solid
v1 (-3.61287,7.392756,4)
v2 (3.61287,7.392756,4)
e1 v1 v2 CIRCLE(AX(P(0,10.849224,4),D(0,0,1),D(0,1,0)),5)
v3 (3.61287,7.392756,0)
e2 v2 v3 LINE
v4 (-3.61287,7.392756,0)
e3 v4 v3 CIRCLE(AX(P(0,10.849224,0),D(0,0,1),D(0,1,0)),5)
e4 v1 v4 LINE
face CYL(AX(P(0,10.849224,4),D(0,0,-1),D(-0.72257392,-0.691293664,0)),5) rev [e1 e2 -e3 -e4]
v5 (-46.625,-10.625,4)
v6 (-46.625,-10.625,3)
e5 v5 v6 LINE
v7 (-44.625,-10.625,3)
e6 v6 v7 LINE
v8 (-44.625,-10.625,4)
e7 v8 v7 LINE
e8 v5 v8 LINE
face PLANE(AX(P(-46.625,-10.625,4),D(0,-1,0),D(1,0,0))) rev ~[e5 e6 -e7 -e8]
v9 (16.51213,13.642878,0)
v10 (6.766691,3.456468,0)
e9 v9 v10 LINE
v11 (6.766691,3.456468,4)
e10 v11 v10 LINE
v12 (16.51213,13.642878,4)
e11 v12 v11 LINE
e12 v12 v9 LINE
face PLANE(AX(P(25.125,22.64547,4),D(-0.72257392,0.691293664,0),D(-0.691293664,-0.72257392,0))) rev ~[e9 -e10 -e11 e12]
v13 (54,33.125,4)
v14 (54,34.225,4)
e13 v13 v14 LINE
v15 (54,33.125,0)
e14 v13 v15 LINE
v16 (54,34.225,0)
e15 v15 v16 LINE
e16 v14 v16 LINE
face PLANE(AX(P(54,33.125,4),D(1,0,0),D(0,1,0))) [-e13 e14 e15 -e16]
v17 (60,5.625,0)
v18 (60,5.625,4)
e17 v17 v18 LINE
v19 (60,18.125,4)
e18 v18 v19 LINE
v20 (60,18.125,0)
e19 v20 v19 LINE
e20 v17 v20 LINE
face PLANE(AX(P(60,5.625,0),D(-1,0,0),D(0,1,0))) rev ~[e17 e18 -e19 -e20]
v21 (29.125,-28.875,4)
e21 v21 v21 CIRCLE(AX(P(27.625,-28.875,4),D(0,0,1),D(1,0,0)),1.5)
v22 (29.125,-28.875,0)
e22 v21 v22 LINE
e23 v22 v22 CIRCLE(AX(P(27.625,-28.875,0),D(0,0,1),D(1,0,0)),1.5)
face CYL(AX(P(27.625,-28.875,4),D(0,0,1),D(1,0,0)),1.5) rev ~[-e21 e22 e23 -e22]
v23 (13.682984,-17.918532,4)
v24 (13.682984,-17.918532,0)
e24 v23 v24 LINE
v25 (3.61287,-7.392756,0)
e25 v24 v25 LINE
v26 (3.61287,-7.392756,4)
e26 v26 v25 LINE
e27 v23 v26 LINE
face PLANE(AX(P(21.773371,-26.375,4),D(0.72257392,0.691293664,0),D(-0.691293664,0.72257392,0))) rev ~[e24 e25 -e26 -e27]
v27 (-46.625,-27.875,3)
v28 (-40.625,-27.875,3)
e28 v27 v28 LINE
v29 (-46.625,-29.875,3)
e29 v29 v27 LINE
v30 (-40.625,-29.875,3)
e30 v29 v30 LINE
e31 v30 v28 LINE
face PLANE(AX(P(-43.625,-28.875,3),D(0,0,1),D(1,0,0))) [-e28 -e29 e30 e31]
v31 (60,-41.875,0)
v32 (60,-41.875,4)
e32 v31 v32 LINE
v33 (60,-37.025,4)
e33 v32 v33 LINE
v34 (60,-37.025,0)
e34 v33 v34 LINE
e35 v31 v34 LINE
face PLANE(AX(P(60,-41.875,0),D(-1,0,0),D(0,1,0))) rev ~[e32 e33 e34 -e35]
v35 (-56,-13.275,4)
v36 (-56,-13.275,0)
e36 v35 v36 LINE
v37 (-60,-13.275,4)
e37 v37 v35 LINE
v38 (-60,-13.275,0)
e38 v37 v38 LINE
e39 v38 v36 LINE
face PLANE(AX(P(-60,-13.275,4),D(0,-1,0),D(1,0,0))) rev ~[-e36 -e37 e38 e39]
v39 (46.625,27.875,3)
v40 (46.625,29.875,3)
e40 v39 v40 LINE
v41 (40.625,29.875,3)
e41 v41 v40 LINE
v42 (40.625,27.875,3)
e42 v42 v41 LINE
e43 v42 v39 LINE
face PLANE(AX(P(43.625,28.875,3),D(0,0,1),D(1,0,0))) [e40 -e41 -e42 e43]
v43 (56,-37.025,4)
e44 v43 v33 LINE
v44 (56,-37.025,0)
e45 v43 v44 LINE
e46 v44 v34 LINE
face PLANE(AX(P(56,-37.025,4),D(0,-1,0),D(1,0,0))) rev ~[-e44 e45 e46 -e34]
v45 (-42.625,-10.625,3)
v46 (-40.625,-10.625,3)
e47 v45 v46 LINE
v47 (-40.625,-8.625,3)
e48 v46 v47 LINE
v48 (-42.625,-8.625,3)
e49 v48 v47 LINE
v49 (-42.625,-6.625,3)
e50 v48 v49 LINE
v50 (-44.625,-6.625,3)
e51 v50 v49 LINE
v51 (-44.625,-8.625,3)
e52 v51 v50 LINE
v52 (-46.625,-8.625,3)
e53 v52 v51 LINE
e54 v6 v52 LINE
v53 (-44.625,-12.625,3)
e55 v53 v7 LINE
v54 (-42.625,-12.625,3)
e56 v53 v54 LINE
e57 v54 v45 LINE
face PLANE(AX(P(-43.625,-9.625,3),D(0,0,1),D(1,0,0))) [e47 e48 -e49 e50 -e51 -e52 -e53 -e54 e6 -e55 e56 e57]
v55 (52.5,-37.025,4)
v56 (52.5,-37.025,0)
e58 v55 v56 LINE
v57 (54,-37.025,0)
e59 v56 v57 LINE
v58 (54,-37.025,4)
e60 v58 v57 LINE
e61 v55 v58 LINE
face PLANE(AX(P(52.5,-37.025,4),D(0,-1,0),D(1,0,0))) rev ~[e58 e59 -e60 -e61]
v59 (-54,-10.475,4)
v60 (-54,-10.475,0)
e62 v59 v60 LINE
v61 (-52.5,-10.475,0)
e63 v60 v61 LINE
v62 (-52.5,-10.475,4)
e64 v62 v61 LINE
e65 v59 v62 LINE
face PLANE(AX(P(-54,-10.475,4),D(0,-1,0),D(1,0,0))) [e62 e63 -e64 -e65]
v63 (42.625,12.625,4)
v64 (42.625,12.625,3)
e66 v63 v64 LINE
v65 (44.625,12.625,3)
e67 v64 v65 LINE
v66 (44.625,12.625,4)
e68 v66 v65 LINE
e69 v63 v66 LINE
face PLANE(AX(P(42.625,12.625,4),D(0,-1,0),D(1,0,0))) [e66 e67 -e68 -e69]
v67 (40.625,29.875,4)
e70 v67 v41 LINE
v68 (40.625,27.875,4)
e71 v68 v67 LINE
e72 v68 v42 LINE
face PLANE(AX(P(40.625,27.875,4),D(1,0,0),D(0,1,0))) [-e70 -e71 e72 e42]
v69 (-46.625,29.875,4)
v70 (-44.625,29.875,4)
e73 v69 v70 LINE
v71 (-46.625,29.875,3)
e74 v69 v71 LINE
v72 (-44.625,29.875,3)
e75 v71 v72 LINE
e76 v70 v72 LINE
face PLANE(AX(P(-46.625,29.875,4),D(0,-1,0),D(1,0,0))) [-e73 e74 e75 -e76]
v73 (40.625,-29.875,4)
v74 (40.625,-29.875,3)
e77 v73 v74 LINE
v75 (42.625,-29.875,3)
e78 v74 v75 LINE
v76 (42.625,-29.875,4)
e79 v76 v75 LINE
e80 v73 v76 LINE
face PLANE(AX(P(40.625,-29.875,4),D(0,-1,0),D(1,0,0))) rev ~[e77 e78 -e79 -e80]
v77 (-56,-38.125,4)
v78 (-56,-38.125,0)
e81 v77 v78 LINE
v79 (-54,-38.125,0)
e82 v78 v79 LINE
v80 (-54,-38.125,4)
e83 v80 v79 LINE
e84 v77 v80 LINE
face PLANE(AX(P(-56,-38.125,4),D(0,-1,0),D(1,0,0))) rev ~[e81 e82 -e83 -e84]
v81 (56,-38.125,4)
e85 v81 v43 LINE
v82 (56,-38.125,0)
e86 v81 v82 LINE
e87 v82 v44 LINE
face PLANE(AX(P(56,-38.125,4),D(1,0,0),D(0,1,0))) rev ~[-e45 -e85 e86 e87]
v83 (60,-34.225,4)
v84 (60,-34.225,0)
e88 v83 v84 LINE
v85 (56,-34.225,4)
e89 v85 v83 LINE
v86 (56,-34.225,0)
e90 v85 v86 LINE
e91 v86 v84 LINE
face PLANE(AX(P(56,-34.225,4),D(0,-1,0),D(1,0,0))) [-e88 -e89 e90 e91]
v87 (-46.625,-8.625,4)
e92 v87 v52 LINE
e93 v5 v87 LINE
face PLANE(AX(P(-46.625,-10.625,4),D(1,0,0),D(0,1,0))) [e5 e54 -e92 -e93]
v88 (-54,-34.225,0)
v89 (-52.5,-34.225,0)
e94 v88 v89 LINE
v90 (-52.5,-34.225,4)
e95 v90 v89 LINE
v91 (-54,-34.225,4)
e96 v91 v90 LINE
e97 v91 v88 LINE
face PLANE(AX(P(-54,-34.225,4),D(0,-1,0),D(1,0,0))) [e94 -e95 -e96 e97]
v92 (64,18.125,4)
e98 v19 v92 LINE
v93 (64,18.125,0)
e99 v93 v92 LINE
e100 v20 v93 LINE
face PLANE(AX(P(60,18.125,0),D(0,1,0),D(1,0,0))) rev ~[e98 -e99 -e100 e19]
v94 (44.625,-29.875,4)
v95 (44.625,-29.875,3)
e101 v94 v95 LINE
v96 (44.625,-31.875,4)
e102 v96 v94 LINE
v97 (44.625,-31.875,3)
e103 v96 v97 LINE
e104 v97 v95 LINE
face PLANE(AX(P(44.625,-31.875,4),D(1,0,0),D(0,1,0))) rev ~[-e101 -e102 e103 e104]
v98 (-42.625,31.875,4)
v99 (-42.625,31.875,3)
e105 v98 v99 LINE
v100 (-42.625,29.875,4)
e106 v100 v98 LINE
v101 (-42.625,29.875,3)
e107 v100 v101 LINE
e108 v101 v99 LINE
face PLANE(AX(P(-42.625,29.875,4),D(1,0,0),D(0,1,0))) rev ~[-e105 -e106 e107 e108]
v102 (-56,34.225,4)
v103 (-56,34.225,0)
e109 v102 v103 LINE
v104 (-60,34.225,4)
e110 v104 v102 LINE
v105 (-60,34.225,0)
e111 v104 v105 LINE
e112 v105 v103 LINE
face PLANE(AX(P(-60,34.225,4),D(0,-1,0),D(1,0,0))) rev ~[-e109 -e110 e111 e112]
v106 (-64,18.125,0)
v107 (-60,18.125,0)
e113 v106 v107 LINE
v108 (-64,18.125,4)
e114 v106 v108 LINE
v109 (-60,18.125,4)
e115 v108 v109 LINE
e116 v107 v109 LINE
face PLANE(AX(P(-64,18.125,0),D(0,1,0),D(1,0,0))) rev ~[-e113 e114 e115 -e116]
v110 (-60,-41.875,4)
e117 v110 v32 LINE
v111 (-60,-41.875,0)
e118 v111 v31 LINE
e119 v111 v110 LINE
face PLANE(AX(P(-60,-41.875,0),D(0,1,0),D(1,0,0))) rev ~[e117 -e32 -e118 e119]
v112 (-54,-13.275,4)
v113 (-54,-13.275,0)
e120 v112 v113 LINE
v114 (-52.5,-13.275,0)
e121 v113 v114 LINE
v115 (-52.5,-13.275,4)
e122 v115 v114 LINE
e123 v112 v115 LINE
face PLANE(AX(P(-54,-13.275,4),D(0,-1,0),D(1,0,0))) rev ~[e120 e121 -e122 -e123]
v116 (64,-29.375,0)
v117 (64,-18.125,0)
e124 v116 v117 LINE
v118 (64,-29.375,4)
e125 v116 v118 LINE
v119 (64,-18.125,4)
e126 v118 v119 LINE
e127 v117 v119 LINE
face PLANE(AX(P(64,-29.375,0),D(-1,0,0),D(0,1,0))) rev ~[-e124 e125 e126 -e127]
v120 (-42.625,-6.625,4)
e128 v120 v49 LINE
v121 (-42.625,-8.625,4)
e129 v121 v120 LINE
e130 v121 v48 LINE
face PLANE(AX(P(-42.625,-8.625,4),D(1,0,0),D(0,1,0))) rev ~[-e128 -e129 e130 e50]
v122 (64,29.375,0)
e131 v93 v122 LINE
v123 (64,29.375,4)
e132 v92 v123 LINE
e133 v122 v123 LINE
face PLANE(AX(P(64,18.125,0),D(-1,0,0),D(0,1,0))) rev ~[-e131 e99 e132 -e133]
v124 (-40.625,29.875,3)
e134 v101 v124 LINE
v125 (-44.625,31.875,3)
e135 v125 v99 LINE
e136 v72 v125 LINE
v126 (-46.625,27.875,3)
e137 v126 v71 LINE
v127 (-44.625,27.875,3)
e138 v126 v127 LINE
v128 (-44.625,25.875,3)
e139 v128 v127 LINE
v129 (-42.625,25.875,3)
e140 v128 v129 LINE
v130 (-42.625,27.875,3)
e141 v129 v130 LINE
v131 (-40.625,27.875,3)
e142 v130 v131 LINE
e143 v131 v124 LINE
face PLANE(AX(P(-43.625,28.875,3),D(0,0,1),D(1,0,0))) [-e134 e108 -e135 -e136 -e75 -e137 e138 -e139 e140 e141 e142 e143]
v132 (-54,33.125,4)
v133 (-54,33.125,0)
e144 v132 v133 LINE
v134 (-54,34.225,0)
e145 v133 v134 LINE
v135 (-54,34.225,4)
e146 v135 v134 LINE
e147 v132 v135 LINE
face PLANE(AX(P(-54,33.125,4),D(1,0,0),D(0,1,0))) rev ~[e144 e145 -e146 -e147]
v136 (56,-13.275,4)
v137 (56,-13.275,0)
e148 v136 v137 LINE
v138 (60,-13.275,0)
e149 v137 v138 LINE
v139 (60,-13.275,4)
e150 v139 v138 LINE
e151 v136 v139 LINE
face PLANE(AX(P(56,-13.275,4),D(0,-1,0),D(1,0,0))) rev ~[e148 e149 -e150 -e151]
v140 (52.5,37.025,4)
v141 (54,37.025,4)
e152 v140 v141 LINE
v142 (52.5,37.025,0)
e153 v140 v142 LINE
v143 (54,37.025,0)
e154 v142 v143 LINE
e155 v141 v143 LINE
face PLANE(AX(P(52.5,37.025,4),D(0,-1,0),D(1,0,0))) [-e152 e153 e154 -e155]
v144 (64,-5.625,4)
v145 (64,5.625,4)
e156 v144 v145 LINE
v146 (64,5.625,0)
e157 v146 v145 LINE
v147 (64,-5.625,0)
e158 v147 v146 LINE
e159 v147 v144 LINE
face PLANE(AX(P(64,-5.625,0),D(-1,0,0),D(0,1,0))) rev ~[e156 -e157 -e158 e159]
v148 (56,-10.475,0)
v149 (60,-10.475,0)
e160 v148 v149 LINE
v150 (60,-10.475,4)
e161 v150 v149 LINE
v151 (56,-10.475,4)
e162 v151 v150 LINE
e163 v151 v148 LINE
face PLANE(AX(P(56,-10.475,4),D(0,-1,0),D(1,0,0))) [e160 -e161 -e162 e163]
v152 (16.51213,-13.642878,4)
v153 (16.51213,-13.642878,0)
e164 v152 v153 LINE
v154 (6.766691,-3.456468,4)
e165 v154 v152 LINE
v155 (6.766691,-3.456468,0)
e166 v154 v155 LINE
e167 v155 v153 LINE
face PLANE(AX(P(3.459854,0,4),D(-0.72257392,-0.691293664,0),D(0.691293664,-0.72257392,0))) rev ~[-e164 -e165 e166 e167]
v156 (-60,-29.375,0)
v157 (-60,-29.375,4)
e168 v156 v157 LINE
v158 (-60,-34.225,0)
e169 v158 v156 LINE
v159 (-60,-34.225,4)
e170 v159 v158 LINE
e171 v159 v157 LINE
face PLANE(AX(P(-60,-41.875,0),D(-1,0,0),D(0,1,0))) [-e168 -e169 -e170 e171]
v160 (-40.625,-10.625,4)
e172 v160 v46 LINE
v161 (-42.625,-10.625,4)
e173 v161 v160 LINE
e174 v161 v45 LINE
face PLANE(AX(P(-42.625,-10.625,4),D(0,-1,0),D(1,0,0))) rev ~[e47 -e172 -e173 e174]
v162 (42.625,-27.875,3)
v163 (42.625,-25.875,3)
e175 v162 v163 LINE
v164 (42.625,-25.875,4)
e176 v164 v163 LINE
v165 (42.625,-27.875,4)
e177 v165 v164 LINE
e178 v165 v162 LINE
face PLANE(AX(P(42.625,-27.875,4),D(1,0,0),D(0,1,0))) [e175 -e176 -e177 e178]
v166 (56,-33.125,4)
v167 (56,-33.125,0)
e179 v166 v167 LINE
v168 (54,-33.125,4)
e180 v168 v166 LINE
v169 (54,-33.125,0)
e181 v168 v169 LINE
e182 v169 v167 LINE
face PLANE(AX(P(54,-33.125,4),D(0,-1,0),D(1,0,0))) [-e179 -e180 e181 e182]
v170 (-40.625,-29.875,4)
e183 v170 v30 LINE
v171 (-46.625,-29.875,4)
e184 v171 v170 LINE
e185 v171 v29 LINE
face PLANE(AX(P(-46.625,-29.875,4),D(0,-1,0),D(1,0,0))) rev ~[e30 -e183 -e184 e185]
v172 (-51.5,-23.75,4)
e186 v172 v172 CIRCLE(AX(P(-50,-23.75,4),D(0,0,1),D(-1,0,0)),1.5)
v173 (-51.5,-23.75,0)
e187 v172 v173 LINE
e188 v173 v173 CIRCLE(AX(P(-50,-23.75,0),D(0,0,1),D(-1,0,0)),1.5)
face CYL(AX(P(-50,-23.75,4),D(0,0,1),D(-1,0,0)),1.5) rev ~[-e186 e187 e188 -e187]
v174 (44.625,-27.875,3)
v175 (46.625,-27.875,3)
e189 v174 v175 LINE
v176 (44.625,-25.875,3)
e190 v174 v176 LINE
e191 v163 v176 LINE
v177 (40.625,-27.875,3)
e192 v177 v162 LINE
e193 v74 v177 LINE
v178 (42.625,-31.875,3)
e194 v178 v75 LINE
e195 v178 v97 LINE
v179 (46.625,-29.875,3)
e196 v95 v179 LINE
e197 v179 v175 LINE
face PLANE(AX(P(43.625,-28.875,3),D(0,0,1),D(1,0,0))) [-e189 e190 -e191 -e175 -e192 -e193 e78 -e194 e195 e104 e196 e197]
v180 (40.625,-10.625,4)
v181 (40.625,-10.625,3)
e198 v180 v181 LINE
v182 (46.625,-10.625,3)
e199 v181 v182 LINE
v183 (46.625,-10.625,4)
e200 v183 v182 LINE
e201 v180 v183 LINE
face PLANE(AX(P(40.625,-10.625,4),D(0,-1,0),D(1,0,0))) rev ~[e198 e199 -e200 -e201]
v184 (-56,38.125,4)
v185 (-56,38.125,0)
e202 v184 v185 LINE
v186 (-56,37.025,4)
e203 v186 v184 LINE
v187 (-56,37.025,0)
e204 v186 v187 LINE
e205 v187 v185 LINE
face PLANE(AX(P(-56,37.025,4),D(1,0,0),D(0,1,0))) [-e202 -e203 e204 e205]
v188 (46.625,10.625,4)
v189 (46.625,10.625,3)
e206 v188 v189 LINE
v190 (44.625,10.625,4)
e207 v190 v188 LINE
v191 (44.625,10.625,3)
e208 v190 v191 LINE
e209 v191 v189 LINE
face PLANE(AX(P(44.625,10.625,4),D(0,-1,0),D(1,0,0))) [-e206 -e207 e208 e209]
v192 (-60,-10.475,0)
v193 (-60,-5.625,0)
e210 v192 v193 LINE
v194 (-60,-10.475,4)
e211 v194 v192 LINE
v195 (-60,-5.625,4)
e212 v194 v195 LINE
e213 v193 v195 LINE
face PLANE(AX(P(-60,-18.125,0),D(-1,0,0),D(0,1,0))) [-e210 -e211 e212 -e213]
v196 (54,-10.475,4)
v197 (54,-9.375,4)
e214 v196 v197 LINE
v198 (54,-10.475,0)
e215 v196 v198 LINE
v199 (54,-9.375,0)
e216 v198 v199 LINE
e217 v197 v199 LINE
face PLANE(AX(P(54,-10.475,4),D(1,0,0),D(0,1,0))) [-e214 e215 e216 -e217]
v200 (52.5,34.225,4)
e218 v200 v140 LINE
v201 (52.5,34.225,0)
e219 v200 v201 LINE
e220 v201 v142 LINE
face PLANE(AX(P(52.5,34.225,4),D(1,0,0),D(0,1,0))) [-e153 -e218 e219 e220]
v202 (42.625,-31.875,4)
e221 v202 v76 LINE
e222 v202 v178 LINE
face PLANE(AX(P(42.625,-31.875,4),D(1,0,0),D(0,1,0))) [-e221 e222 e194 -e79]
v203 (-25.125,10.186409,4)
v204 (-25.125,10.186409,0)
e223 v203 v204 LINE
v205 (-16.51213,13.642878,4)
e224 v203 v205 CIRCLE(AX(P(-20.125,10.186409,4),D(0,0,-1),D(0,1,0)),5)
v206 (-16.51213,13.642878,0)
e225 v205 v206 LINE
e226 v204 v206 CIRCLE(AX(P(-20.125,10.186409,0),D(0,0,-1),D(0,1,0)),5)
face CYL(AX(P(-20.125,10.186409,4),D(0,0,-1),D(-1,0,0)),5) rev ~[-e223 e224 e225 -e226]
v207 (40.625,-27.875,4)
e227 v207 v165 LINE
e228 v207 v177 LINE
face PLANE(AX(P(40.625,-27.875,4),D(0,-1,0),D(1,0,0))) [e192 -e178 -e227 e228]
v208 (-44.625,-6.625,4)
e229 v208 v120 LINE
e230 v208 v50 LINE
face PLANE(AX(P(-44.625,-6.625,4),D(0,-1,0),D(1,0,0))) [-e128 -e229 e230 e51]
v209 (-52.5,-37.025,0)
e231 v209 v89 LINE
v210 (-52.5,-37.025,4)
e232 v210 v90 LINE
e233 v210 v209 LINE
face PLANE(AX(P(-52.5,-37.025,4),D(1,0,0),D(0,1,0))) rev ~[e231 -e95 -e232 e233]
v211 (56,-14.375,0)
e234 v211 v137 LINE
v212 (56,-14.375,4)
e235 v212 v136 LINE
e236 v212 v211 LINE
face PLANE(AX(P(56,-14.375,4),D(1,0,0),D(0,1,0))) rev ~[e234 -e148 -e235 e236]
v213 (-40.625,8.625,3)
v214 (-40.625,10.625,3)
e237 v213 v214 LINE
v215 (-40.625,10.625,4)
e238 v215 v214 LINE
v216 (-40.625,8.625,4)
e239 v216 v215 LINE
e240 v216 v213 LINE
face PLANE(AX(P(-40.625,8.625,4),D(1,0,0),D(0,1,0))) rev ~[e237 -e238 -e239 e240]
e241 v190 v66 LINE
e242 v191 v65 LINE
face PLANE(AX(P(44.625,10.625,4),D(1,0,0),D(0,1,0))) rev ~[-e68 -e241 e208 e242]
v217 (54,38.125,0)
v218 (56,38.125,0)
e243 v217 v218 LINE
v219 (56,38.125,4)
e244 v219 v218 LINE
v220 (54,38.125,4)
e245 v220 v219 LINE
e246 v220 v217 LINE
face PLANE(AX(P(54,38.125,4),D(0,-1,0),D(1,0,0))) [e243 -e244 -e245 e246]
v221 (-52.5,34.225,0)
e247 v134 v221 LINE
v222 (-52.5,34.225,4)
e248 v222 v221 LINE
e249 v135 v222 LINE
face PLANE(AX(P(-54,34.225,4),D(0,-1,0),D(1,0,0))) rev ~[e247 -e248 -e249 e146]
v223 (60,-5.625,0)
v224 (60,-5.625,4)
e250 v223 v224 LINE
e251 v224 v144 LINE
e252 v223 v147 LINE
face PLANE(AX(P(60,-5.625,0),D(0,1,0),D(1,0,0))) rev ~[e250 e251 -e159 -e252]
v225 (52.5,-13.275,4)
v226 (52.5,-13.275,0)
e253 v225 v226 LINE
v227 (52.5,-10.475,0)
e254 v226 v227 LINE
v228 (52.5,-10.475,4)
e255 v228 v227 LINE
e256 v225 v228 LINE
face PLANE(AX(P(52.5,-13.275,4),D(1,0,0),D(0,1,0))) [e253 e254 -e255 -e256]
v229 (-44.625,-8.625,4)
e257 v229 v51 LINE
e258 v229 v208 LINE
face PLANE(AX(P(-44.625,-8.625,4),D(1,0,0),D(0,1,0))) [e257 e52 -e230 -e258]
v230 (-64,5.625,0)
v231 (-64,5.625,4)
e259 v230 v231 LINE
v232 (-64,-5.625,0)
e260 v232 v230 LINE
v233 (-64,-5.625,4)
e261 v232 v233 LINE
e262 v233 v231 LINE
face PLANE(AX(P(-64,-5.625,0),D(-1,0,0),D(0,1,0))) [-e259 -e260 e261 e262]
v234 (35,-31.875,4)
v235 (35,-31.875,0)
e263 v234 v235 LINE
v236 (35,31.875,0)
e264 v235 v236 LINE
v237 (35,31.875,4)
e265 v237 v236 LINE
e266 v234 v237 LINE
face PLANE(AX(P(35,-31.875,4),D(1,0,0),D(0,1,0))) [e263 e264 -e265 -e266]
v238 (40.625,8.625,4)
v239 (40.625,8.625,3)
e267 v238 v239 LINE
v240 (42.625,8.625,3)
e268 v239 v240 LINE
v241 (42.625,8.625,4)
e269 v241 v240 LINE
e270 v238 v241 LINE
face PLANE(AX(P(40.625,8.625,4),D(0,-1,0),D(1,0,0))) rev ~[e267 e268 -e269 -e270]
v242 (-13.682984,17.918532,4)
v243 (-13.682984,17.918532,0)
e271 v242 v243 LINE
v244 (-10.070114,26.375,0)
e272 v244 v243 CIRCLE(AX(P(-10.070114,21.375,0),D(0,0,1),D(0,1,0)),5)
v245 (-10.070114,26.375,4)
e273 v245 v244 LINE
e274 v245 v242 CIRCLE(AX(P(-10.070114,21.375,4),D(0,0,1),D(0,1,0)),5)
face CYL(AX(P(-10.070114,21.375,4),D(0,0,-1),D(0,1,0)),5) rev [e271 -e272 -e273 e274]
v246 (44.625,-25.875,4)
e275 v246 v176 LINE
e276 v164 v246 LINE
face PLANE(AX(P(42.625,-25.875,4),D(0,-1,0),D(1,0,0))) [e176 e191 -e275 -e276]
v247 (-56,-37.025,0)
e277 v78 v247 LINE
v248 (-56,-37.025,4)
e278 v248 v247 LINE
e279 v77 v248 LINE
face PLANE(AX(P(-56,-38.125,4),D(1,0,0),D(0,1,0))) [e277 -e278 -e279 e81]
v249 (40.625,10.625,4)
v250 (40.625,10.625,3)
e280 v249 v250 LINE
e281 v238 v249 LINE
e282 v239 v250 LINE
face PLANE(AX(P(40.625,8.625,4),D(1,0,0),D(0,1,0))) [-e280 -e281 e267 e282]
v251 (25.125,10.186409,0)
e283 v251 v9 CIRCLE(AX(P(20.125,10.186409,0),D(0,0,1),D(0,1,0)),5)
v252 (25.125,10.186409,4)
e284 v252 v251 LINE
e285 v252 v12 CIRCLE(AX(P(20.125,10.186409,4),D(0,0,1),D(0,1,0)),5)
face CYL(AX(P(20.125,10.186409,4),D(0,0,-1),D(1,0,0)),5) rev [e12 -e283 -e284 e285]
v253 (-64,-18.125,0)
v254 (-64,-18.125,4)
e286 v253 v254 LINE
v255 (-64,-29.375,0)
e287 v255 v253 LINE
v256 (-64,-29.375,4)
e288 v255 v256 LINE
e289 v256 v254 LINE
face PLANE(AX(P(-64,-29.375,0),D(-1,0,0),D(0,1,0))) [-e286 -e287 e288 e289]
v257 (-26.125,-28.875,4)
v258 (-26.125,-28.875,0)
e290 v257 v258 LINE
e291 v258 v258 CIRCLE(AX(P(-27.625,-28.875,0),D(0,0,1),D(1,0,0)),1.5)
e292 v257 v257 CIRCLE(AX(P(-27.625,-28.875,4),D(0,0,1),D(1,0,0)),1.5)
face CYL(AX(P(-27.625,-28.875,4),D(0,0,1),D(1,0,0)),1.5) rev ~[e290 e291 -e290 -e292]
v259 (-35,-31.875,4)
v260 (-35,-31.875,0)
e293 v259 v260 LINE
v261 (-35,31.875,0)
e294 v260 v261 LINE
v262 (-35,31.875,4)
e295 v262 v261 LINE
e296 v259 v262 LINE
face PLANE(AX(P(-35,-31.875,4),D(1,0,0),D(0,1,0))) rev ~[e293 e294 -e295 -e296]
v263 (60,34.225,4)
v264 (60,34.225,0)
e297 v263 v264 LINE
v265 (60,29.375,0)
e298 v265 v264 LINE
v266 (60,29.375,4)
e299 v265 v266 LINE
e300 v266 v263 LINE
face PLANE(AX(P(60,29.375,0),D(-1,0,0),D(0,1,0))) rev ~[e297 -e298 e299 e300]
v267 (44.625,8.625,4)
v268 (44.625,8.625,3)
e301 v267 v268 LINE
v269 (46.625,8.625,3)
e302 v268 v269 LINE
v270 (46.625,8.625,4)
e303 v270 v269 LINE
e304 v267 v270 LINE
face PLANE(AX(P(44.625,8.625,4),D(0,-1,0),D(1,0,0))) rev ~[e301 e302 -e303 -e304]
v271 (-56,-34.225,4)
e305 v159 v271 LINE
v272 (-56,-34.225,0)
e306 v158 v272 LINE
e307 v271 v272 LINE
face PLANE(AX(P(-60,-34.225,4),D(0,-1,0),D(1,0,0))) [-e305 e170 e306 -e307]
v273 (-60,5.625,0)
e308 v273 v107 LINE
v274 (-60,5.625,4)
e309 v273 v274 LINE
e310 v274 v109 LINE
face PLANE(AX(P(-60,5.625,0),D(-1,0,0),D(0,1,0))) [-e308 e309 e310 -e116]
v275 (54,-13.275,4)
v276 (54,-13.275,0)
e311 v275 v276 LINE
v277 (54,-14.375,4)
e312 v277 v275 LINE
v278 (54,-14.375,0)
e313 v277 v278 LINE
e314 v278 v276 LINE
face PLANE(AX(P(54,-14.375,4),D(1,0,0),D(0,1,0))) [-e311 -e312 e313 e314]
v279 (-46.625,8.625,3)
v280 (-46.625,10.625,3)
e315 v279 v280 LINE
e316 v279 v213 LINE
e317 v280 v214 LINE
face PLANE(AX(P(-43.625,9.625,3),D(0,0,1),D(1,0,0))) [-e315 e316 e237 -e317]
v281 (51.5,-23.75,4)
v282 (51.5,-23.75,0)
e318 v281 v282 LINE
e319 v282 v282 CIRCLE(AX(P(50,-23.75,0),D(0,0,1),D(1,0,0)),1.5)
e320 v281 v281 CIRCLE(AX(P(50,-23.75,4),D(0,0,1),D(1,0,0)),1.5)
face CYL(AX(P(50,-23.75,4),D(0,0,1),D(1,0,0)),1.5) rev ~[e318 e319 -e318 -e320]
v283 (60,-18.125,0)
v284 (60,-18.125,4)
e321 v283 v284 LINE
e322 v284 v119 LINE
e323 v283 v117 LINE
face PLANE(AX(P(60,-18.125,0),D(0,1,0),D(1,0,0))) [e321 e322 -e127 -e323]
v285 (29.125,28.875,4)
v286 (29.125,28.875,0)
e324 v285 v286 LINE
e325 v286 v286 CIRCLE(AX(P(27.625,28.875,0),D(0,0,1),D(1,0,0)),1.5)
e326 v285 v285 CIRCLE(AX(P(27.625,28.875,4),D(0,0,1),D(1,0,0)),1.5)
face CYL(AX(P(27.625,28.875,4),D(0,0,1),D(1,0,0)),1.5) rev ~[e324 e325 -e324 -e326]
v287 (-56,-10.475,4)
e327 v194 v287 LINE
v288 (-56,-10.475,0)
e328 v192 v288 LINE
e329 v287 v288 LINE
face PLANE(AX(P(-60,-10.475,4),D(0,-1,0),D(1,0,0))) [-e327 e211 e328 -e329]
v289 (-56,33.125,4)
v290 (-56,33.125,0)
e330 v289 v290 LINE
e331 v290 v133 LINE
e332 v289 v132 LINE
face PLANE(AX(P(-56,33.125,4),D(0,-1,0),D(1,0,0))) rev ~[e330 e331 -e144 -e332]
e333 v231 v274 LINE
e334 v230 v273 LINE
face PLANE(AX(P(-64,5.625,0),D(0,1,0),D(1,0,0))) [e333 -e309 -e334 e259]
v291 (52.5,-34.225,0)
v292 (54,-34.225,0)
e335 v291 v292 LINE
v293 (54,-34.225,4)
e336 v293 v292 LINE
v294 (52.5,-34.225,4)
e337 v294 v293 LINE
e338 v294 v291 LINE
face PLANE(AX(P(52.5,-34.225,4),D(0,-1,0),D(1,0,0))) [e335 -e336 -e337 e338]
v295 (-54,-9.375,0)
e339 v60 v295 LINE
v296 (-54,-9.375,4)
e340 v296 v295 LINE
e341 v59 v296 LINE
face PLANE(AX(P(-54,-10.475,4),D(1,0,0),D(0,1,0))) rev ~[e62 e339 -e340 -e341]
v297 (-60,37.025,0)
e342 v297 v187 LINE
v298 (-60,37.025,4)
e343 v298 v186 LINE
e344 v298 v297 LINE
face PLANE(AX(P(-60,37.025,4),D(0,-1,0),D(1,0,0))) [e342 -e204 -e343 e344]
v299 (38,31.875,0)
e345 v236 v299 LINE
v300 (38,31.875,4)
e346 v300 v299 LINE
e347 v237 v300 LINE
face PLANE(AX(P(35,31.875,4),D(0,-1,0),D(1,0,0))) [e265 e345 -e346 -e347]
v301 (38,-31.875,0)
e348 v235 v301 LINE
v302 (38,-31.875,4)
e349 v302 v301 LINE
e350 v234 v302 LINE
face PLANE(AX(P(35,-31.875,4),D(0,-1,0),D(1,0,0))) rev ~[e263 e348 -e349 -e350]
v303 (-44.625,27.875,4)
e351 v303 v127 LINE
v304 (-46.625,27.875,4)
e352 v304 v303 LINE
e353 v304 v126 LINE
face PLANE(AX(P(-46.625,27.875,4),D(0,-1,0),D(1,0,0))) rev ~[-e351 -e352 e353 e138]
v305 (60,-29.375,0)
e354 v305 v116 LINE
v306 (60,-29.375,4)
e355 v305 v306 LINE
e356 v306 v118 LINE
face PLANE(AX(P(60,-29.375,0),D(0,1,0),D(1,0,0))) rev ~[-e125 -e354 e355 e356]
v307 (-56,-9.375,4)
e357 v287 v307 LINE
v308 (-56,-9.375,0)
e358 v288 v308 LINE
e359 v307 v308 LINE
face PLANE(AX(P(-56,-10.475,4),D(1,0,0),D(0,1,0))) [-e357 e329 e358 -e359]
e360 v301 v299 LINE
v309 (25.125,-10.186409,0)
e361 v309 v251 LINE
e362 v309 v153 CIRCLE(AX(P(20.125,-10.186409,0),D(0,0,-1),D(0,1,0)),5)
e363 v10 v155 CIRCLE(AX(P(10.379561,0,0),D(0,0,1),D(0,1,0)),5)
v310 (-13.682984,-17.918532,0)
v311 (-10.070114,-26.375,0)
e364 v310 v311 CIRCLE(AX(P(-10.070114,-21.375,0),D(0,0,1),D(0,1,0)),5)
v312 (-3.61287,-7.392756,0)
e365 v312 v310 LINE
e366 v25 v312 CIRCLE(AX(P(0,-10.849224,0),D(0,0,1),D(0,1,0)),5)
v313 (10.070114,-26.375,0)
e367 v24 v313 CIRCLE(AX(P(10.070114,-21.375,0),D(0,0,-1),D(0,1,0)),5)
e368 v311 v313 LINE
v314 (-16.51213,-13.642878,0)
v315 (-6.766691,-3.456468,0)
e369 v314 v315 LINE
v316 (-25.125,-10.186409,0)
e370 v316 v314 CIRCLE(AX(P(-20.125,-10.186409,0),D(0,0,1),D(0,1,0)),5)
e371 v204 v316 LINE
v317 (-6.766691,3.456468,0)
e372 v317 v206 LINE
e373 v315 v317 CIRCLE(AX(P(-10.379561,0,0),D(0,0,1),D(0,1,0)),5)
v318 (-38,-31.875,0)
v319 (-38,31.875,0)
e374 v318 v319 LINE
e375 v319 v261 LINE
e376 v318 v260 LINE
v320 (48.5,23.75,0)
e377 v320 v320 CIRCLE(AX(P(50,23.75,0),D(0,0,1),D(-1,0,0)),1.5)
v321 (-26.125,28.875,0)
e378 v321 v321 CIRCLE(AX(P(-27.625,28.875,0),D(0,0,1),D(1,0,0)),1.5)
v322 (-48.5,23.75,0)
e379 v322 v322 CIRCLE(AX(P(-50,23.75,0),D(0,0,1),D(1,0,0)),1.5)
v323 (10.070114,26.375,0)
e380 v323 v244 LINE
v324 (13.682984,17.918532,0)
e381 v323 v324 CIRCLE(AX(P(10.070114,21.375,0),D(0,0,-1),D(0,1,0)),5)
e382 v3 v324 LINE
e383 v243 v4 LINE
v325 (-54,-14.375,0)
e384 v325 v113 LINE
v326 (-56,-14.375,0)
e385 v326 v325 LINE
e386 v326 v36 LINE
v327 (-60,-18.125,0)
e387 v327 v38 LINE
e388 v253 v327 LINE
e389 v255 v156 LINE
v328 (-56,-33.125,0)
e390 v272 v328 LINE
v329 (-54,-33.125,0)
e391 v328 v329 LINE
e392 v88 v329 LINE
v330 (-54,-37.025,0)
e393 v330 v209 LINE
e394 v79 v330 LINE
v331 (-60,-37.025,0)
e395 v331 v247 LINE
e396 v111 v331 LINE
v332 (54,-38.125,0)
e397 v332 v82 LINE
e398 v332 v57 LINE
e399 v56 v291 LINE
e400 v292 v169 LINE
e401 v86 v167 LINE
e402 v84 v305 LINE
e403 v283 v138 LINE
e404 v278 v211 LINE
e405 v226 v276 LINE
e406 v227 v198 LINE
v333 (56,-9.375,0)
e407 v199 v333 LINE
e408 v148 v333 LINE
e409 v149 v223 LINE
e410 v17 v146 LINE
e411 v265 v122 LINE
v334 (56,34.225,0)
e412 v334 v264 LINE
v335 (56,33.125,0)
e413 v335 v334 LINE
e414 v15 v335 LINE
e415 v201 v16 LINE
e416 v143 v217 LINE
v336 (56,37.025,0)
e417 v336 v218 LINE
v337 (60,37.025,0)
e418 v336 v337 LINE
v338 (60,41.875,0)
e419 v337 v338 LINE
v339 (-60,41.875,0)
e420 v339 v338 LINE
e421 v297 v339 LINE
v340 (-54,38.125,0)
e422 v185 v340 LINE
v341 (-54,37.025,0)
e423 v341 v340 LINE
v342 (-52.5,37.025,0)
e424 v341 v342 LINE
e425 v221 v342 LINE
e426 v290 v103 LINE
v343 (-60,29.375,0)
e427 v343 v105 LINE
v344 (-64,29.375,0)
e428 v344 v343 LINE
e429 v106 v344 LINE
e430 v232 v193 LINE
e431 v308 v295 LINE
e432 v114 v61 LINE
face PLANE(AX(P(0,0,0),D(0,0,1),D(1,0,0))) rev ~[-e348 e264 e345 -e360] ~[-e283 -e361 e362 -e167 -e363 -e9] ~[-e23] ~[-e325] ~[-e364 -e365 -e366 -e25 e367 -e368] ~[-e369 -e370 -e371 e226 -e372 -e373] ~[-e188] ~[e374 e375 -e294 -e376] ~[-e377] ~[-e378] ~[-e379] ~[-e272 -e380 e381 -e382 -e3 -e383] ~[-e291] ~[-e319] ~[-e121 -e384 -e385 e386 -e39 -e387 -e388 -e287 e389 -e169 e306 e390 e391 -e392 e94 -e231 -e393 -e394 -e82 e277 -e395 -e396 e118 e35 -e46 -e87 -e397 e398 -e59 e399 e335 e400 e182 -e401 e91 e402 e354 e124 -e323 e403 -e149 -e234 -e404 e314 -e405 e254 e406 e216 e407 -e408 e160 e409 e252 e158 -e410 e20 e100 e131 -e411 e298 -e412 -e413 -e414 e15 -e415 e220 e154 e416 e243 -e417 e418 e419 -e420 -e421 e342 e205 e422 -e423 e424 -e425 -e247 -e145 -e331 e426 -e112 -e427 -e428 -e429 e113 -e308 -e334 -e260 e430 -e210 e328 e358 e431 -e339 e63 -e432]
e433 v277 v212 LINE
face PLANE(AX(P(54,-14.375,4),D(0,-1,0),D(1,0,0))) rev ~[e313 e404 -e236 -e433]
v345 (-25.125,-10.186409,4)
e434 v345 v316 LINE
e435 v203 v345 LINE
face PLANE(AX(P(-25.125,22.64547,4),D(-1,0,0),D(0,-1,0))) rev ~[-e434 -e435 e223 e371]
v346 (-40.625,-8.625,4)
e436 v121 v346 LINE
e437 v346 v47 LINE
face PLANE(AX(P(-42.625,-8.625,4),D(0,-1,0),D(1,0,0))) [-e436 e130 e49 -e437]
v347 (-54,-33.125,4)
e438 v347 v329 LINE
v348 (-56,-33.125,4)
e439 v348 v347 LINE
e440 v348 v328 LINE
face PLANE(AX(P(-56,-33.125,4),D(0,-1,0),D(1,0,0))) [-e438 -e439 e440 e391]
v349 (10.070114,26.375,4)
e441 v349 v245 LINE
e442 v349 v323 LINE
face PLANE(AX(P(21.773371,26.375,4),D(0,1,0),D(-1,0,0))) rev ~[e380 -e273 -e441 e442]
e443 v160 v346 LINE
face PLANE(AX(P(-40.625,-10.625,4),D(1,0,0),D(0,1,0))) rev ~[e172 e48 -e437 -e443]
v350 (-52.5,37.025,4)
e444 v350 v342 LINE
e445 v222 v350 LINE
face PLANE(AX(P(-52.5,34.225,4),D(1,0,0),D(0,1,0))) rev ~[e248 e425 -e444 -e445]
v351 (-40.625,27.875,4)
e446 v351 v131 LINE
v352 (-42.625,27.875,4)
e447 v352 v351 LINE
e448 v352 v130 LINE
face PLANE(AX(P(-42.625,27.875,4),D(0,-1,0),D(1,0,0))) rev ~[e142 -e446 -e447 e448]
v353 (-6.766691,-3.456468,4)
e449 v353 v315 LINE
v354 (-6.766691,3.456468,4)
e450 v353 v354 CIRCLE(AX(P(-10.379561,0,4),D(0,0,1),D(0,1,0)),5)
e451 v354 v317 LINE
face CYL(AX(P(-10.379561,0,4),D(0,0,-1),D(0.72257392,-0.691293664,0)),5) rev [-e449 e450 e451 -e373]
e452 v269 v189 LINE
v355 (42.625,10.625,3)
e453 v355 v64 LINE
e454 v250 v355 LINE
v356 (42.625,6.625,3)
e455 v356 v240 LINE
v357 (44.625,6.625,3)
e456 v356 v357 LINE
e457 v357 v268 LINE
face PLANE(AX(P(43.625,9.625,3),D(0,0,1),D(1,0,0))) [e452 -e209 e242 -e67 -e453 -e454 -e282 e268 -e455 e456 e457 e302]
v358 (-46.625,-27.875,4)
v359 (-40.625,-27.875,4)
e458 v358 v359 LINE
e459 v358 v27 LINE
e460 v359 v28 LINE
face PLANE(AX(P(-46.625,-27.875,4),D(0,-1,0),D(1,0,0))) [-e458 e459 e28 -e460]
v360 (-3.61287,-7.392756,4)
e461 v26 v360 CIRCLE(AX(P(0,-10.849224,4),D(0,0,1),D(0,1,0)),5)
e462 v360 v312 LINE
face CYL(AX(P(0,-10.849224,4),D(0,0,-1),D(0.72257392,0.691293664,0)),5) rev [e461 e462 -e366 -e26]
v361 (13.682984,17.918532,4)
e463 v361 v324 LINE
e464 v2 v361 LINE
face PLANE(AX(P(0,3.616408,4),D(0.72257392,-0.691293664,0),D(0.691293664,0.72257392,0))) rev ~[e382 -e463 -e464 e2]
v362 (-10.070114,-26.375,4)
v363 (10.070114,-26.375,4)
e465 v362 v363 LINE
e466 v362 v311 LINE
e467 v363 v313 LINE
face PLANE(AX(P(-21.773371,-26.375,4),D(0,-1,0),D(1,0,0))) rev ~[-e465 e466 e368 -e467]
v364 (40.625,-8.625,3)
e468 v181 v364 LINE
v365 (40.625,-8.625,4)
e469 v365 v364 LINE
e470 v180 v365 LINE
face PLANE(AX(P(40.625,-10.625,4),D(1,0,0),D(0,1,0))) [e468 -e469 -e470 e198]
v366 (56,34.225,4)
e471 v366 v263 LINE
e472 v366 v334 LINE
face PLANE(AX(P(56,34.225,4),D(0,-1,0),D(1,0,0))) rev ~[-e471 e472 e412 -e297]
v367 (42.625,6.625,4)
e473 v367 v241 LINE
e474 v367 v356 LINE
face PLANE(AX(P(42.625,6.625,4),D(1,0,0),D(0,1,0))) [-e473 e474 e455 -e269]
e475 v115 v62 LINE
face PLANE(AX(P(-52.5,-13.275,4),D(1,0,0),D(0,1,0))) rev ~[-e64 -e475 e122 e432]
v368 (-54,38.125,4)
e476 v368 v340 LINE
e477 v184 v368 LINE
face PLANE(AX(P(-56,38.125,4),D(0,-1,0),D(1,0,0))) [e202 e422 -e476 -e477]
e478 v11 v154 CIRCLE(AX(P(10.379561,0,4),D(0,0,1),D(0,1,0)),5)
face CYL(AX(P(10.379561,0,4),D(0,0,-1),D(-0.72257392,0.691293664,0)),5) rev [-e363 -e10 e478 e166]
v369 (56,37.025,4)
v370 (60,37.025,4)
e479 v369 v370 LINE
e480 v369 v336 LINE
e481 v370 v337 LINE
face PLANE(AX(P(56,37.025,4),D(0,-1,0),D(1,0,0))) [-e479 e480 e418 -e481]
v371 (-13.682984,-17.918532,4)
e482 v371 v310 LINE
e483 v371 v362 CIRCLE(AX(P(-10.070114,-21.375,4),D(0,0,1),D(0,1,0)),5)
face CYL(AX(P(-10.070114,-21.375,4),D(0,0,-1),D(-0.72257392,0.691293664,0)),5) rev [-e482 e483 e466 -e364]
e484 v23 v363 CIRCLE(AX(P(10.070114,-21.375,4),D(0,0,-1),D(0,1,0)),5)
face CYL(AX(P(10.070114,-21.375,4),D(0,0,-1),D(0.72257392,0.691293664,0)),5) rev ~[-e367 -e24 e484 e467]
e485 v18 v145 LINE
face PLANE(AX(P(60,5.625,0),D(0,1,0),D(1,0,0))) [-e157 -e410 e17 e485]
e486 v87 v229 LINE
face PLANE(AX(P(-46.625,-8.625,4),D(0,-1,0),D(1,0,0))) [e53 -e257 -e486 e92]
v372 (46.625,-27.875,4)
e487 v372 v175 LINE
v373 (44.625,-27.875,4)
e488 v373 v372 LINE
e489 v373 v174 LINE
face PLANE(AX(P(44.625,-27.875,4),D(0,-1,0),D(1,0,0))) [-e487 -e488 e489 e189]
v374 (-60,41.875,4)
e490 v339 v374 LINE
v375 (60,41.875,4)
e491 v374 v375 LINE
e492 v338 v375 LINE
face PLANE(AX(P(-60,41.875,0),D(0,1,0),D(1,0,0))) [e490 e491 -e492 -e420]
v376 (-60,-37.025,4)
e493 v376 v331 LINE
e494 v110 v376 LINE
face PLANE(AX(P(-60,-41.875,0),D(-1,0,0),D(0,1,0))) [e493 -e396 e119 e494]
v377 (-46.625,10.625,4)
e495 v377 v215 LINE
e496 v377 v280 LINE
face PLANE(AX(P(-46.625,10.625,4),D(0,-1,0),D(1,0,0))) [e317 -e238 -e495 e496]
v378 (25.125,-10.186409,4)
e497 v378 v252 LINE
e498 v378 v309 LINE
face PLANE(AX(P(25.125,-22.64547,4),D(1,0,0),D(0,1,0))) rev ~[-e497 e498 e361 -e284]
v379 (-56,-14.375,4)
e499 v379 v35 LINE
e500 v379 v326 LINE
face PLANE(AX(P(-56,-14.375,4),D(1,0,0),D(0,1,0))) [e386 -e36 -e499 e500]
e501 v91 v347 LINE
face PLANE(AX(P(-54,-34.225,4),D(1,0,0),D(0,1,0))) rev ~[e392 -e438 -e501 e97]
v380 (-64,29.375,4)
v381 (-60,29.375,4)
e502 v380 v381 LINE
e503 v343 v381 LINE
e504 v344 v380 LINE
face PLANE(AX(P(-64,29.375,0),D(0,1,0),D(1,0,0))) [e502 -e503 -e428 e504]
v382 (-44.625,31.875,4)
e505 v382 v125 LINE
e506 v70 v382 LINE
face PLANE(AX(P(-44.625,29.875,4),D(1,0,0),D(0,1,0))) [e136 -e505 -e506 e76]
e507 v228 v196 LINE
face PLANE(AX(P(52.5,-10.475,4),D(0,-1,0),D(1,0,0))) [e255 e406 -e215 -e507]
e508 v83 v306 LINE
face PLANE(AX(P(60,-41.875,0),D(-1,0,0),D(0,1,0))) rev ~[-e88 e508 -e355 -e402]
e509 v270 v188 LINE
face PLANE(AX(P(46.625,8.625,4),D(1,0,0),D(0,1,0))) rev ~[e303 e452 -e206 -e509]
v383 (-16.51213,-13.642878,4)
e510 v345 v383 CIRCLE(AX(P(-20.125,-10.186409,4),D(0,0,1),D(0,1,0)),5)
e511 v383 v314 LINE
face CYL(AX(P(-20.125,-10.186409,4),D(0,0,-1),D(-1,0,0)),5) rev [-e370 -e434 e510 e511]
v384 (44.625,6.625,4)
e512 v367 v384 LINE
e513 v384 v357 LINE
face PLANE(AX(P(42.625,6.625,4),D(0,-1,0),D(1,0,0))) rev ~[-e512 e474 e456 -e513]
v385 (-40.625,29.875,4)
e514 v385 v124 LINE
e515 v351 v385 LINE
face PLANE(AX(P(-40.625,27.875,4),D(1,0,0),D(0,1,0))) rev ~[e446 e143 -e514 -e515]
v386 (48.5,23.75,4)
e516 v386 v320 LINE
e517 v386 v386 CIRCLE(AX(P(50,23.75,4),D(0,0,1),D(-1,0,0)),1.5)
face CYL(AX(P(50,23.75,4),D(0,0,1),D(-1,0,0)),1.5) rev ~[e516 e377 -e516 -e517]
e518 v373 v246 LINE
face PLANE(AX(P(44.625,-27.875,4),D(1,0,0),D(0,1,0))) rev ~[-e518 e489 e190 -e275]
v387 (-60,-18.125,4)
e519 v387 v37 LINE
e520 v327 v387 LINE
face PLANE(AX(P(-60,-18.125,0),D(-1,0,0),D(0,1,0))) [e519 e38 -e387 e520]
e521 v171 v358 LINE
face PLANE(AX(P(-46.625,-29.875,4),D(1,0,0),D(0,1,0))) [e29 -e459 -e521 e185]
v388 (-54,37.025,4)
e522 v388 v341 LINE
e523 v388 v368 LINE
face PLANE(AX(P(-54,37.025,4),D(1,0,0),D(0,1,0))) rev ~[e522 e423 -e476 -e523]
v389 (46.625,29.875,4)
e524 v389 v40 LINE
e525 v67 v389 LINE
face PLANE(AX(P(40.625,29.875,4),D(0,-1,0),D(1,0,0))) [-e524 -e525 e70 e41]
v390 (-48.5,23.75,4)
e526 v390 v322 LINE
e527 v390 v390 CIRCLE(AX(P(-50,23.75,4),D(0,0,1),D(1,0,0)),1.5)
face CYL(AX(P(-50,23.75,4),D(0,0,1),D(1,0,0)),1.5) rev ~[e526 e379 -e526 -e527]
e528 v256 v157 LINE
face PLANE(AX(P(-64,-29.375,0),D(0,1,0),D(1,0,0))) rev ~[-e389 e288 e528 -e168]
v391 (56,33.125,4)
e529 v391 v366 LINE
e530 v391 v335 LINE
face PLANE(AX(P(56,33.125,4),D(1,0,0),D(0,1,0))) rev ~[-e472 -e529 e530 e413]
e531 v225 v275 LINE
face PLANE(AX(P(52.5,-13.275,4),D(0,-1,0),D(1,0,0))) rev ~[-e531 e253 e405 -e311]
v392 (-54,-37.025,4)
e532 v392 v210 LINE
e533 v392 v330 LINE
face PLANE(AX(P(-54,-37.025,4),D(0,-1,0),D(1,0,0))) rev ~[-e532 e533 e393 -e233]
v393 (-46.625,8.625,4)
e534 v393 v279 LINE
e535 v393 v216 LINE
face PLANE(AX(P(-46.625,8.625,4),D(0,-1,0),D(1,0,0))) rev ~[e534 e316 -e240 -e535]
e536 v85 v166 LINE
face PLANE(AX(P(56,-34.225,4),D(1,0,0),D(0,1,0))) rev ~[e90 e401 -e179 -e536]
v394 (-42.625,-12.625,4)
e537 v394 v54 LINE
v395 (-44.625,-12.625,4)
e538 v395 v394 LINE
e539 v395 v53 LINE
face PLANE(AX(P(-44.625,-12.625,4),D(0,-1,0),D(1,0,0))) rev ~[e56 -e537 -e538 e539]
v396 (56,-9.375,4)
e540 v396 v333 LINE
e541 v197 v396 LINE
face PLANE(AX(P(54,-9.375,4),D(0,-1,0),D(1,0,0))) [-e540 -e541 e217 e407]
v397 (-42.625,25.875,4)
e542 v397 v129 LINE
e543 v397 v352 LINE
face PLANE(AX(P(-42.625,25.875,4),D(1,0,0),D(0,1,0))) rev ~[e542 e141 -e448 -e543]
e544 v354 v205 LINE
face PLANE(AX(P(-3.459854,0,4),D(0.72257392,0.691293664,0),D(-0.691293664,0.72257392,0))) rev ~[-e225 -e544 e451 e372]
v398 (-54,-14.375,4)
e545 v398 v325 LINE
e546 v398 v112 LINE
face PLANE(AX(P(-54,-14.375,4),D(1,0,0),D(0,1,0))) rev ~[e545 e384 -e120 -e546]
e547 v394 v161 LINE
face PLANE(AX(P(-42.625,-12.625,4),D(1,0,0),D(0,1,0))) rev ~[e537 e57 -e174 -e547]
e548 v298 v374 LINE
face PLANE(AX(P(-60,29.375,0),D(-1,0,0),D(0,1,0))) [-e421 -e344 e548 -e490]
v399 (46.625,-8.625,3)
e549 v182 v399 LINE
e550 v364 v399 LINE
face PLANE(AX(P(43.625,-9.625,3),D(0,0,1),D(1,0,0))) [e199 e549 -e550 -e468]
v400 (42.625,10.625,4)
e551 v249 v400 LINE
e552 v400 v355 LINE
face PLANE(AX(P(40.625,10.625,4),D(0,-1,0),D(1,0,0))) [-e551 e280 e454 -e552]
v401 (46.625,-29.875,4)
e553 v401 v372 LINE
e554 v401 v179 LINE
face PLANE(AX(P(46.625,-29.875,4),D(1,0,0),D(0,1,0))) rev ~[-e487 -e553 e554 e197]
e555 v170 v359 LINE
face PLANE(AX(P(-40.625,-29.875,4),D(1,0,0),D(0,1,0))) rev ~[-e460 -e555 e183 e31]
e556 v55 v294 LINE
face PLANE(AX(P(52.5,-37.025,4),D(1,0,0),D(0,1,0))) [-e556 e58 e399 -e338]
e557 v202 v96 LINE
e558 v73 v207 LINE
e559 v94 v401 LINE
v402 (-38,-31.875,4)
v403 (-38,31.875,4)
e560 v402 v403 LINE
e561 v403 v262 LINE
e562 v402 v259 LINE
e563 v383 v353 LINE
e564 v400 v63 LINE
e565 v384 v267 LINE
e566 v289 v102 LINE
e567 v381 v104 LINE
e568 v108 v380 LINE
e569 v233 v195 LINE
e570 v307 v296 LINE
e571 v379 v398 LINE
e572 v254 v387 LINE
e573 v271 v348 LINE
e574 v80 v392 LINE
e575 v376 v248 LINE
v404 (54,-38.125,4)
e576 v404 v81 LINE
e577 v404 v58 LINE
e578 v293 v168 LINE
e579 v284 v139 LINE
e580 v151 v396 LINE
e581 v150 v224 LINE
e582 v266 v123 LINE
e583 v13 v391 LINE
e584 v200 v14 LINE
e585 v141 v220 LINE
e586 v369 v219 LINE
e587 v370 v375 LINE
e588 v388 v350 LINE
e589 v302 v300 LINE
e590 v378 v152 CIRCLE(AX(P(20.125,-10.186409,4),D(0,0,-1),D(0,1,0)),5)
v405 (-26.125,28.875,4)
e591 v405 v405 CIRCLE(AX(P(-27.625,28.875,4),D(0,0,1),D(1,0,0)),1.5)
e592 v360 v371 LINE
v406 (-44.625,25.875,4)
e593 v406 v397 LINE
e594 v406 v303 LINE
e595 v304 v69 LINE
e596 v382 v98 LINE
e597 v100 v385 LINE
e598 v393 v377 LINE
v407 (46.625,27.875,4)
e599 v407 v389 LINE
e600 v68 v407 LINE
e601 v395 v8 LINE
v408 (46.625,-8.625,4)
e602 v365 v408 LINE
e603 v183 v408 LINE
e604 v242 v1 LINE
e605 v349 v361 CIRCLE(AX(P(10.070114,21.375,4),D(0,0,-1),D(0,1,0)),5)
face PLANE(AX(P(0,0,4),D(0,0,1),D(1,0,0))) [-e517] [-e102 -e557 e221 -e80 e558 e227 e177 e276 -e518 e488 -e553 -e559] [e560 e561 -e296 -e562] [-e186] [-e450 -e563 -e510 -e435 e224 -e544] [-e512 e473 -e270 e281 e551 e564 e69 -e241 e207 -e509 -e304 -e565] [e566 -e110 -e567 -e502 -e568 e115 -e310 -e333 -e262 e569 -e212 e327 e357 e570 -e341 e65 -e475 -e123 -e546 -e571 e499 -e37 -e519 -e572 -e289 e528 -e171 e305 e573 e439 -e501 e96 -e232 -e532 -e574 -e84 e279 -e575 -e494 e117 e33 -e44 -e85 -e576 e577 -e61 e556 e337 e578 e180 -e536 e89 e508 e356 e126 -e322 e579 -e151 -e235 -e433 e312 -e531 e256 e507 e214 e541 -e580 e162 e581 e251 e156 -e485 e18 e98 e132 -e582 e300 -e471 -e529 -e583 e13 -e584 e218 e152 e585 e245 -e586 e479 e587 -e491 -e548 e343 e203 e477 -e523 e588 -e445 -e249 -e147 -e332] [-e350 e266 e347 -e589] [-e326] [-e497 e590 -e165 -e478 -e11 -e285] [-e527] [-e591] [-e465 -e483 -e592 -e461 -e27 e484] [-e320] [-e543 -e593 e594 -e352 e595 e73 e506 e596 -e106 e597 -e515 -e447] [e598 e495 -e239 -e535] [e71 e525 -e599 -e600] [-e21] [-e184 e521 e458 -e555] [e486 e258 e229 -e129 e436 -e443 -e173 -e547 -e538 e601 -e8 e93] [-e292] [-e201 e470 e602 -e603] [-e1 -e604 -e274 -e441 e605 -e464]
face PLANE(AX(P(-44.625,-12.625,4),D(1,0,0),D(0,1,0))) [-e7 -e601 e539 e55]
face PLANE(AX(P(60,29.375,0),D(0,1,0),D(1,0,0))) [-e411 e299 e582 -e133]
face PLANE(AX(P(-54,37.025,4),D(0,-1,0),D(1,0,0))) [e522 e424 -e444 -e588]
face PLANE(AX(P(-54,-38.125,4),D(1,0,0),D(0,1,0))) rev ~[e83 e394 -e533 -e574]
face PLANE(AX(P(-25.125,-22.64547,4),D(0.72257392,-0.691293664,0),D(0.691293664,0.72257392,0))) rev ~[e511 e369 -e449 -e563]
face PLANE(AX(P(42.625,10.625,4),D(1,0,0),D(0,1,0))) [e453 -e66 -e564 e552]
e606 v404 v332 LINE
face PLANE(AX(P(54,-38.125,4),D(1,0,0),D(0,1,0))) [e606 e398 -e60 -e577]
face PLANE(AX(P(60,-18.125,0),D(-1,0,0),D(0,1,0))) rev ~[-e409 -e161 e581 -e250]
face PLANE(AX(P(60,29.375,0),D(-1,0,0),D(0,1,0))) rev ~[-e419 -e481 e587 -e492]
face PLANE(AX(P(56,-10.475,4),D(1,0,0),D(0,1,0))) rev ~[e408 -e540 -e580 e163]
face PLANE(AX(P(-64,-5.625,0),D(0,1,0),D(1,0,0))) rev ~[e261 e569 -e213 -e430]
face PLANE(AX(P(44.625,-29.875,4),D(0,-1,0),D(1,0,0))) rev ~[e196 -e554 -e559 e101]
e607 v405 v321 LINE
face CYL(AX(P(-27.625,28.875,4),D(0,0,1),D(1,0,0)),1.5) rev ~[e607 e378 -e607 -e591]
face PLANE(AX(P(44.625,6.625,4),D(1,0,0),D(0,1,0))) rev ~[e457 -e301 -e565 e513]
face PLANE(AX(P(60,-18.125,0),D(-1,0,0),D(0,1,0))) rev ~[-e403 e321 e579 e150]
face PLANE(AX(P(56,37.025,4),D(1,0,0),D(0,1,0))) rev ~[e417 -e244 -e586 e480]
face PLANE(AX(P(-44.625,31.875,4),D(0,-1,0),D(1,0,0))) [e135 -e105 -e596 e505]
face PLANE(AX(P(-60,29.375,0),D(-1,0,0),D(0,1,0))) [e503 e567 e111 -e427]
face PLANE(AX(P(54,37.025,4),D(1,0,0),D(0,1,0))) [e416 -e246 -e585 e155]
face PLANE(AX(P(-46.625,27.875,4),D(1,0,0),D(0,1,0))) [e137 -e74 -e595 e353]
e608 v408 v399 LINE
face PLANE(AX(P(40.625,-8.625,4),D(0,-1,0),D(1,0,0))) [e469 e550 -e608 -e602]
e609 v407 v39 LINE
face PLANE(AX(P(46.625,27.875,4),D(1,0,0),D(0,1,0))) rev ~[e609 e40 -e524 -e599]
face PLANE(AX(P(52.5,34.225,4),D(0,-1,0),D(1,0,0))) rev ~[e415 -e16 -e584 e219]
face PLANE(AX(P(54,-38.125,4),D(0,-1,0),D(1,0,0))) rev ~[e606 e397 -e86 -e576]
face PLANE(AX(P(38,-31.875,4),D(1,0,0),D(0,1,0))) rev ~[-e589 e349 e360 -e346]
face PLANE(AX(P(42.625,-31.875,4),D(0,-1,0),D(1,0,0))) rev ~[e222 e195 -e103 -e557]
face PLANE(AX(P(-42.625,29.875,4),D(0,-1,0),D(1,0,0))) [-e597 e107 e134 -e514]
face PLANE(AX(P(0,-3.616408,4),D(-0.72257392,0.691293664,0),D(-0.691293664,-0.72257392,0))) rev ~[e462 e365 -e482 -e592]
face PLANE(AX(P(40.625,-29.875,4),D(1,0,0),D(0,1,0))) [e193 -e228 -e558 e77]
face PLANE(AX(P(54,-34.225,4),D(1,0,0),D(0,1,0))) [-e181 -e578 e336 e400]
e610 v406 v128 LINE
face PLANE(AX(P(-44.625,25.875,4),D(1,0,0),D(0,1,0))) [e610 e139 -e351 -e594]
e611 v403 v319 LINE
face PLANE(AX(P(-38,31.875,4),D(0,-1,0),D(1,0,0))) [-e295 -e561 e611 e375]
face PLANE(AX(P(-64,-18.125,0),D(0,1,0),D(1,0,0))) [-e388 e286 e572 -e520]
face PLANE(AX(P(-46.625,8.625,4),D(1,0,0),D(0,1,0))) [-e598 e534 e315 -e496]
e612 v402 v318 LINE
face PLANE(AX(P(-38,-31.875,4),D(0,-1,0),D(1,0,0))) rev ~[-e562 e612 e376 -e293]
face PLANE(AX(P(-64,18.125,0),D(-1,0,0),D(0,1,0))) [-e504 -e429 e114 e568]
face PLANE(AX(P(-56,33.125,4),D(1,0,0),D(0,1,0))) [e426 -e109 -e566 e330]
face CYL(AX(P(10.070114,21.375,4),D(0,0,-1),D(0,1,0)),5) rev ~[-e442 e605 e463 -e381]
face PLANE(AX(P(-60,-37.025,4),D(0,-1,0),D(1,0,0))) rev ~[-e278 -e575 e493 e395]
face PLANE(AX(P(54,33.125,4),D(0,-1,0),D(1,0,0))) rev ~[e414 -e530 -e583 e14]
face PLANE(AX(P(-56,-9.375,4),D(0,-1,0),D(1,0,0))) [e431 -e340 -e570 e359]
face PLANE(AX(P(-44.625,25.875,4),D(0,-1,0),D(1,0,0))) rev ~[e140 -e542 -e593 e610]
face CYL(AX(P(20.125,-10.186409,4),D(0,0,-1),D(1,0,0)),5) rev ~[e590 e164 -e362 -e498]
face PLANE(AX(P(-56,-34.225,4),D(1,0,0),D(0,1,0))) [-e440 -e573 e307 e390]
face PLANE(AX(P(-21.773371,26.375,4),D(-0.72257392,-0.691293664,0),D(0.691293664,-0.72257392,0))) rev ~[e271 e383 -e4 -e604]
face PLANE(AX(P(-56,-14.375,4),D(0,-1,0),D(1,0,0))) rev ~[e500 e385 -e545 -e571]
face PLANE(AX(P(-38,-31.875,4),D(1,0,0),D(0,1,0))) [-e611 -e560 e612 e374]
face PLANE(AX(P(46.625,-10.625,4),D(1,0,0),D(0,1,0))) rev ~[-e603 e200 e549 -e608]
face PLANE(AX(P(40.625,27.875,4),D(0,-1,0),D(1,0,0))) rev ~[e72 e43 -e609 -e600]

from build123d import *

# Parameters (mm, degrees)
SKETCH_1_W          = 120
SKETCH_1_H          = 83.75
SKETCH_1_W_2        = 4
SKETCH_1_H_2        = 11.25
EXTRUDE_1_DEPTH     = 4
SKETCH_2_W          = 7.5
SKETCH_2_H          = 2.8
SKETCH_2_W_2        = 2
SKETCH_2_H_2        = 5
CUT_EXTRUDE_1_DEPTH = 4
SKETCH_3_W          = 3
SKETCH_3_H          = 63.75
SKETCH_3_R          = 1.5
CUT_EXTRUDE_2_DEPTH = 77.586654353
FILLET_1_R          = 5
SKETCH_4_W          = 6
SKETCH_4_H          = 2
SKETCH_4_W_2        = 2
SKETCH_4_H_2        = 6
CUT_EXTRUDE_3_DEPTH = 1


with BuildPart() as part:
    # Эскиз1 → Бобышка-Вытянуть1 (new body)
    with BuildSketch(Plane.XY):
        Rectangle(SKETCH_1_W, SKETCH_1_H)
        with Locations((-62, -23.75)):
            Rectangle(SKETCH_1_W_2, SKETCH_1_H_2)
        with Locations((-62, 23.75)):
            Rectangle(SKETCH_1_W_2, SKETCH_1_H_2)
        with Locations((62, 23.75)):
            Rectangle(SKETCH_1_W_2, SKETCH_1_H_2)
        with Locations((62, -23.75)):
            Rectangle(SKETCH_1_W_2, SKETCH_1_H_2)
        with Locations((-62, 0)):
            Rectangle(SKETCH_1_W_2, SKETCH_1_H_2)
        with Locations((62, 0)):
            Rectangle(SKETCH_1_W_2, SKETCH_1_H_2)
    extrude(amount=EXTRUDE_1_DEPTH)

    # Эскиз2 → Вырез-Вытянуть1 (cut)
    with BuildSketch(Plane.XY.offset(4)):
        with Locations((-56.25, 35.625)):
            Rectangle(SKETCH_2_W, SKETCH_2_H)
        with Locations((-55, 35.625)):
            Rectangle(SKETCH_2_W_2, SKETCH_2_H_2)
        with Locations((-55, -35.625)):
            Rectangle(SKETCH_2_W_2, SKETCH_2_H_2)
        with Locations((-56.25, -35.625)):
            Rectangle(SKETCH_2_W, SKETCH_2_H)
        with Locations((-56.25, -11.875)):
            Rectangle(SKETCH_2_W, SKETCH_2_H)
        with Locations((-55, -11.875)):
            Rectangle(SKETCH_2_W_2, SKETCH_2_H_2)
        with Locations((55, -11.875)):
            Rectangle(SKETCH_2_W_2, SKETCH_2_H_2)
        with Locations((56.25, -11.875)):
            Rectangle(SKETCH_2_W, SKETCH_2_H)
        with Locations((56.25, -35.625)):
            Rectangle(SKETCH_2_W, SKETCH_2_H)
        with Locations((55, -35.625)):
            Rectangle(SKETCH_2_W_2, SKETCH_2_H_2)
        with Locations((55, 35.625)):
            Rectangle(SKETCH_2_W_2, SKETCH_2_H_2)
        with Locations((56.25, 35.625)):
            Rectangle(SKETCH_2_W, SKETCH_2_H)
    extrude(amount=-CUT_EXTRUDE_1_DEPTH, mode=Mode.SUBTRACT)

    # Эскиз3 → Вырез-Вытянуть2 (cut, through all)
    with BuildSketch(Plane.XY.offset(4)):
        with Locations((-36.5, 0)):
            Rectangle(SKETCH_3_W, SKETCH_3_H)
        with Locations((36.5, 0)):
            Rectangle(SKETCH_3_W, SKETCH_3_H)
        Polygon((-25.125, 22.645469736), (-25.125, -22.645469736), (-3.459853629, 0), align=None)
        Polygon((21.773371479, 26.375), (-21.773371479, 26.375), (0, 3.616408092), align=None)
        Polygon((21.773371479, -26.375), (0, -3.616408092), (-21.773371479, -26.375), align=None)
        Polygon((25.125, -22.645469736), (25.125, 22.645469736), (3.459853629, 0), align=None)
        with Locations((-27.625, 28.875)):
            Circle(SKETCH_3_R)
        with Locations((27.625, 28.875)):
            Circle(SKETCH_3_R)
        with Locations((27.625, -28.875)):
            Circle(SKETCH_3_R)
        with Locations((-27.625, -28.875)):
            Circle(SKETCH_3_R)
        with Locations((50, -23.75)):
            Circle(SKETCH_3_R)
        with Locations(Location((50, 23.75, 0), (0, 0, 180))):
            Circle(SKETCH_3_R)
        with Locations((-50, 23.75)):
            Circle(SKETCH_3_R)
        with Locations(Location((-50, -23.75, 0), (0, 0, 180))):
            Circle(SKETCH_3_R)
    extrude(amount=-CUT_EXTRUDE_2_DEPTH, mode=Mode.SUBTRACT)

    # Скругление1
    fillet_1_edges = [part.edges().sort_by_distance(p)[0] for p in [
        (-21.773371479, -26.375, 2),
        (0, -3.616408092, 2),
        (21.773371479, -26.375, 2),
        (-3.459853629, 0, 2),
        (-25.125, -22.645469736, 2),
        (-25.125, 22.645469736, 2),
        (25.125, -22.645469736, 2),
        (3.459853629, 0, 2),
        (25.125, 22.645469736, 2),
        (0, 3.616408092, 2),
        (-21.773371479, 26.375, 2),
        (21.773371479, 26.375, 2),
    ]]
    fillet(fillet_1_edges, radius=FILLET_1_R)

    # Эскиз4 → Вырез-Вытянуть3 (cut)
    with BuildSketch(Plane.XY.offset(4)):
        with Locations((-43.625, 9.625)):
            Rectangle(SKETCH_4_W, SKETCH_4_H)
        with Locations((-43.625, 28.875)):
            Rectangle(SKETCH_4_W, SKETCH_4_H)
        with Locations((-43.625, 28.875)):
            Rectangle(SKETCH_4_W_2, SKETCH_4_H_2)
        with Locations((-43.625, -9.625)):
            Rectangle(SKETCH_4_W, SKETCH_4_H)
        with Locations((-43.625, -9.625)):
            Rectangle(SKETCH_4_W_2, SKETCH_4_H_2)
        with Locations((-43.625, -28.875)):
            Rectangle(SKETCH_4_W, SKETCH_4_H)
        with Locations((43.625, -28.875)):
            Rectangle(SKETCH_4_W_2, SKETCH_4_H_2)
        with Locations((43.625, -28.875)):
            Rectangle(SKETCH_4_W, SKETCH_4_H)
        with Locations((43.625, -9.625)):
            Rectangle(SKETCH_4_W, SKETCH_4_H)
        with Locations((43.625, 9.625)):
            Rectangle(SKETCH_4_W_2, SKETCH_4_H_2)
        with Locations((43.625, 9.625)):
            Rectangle(SKETCH_4_W, SKETCH_4_H)
        with Locations((43.625, 28.875)):
            Rectangle(SKETCH_4_W, SKETCH_4_H)
    extrude(amount=-CUT_EXTRUDE_3_DEPTH, mode=Mode.SUBTRACT)


solid = part.part
